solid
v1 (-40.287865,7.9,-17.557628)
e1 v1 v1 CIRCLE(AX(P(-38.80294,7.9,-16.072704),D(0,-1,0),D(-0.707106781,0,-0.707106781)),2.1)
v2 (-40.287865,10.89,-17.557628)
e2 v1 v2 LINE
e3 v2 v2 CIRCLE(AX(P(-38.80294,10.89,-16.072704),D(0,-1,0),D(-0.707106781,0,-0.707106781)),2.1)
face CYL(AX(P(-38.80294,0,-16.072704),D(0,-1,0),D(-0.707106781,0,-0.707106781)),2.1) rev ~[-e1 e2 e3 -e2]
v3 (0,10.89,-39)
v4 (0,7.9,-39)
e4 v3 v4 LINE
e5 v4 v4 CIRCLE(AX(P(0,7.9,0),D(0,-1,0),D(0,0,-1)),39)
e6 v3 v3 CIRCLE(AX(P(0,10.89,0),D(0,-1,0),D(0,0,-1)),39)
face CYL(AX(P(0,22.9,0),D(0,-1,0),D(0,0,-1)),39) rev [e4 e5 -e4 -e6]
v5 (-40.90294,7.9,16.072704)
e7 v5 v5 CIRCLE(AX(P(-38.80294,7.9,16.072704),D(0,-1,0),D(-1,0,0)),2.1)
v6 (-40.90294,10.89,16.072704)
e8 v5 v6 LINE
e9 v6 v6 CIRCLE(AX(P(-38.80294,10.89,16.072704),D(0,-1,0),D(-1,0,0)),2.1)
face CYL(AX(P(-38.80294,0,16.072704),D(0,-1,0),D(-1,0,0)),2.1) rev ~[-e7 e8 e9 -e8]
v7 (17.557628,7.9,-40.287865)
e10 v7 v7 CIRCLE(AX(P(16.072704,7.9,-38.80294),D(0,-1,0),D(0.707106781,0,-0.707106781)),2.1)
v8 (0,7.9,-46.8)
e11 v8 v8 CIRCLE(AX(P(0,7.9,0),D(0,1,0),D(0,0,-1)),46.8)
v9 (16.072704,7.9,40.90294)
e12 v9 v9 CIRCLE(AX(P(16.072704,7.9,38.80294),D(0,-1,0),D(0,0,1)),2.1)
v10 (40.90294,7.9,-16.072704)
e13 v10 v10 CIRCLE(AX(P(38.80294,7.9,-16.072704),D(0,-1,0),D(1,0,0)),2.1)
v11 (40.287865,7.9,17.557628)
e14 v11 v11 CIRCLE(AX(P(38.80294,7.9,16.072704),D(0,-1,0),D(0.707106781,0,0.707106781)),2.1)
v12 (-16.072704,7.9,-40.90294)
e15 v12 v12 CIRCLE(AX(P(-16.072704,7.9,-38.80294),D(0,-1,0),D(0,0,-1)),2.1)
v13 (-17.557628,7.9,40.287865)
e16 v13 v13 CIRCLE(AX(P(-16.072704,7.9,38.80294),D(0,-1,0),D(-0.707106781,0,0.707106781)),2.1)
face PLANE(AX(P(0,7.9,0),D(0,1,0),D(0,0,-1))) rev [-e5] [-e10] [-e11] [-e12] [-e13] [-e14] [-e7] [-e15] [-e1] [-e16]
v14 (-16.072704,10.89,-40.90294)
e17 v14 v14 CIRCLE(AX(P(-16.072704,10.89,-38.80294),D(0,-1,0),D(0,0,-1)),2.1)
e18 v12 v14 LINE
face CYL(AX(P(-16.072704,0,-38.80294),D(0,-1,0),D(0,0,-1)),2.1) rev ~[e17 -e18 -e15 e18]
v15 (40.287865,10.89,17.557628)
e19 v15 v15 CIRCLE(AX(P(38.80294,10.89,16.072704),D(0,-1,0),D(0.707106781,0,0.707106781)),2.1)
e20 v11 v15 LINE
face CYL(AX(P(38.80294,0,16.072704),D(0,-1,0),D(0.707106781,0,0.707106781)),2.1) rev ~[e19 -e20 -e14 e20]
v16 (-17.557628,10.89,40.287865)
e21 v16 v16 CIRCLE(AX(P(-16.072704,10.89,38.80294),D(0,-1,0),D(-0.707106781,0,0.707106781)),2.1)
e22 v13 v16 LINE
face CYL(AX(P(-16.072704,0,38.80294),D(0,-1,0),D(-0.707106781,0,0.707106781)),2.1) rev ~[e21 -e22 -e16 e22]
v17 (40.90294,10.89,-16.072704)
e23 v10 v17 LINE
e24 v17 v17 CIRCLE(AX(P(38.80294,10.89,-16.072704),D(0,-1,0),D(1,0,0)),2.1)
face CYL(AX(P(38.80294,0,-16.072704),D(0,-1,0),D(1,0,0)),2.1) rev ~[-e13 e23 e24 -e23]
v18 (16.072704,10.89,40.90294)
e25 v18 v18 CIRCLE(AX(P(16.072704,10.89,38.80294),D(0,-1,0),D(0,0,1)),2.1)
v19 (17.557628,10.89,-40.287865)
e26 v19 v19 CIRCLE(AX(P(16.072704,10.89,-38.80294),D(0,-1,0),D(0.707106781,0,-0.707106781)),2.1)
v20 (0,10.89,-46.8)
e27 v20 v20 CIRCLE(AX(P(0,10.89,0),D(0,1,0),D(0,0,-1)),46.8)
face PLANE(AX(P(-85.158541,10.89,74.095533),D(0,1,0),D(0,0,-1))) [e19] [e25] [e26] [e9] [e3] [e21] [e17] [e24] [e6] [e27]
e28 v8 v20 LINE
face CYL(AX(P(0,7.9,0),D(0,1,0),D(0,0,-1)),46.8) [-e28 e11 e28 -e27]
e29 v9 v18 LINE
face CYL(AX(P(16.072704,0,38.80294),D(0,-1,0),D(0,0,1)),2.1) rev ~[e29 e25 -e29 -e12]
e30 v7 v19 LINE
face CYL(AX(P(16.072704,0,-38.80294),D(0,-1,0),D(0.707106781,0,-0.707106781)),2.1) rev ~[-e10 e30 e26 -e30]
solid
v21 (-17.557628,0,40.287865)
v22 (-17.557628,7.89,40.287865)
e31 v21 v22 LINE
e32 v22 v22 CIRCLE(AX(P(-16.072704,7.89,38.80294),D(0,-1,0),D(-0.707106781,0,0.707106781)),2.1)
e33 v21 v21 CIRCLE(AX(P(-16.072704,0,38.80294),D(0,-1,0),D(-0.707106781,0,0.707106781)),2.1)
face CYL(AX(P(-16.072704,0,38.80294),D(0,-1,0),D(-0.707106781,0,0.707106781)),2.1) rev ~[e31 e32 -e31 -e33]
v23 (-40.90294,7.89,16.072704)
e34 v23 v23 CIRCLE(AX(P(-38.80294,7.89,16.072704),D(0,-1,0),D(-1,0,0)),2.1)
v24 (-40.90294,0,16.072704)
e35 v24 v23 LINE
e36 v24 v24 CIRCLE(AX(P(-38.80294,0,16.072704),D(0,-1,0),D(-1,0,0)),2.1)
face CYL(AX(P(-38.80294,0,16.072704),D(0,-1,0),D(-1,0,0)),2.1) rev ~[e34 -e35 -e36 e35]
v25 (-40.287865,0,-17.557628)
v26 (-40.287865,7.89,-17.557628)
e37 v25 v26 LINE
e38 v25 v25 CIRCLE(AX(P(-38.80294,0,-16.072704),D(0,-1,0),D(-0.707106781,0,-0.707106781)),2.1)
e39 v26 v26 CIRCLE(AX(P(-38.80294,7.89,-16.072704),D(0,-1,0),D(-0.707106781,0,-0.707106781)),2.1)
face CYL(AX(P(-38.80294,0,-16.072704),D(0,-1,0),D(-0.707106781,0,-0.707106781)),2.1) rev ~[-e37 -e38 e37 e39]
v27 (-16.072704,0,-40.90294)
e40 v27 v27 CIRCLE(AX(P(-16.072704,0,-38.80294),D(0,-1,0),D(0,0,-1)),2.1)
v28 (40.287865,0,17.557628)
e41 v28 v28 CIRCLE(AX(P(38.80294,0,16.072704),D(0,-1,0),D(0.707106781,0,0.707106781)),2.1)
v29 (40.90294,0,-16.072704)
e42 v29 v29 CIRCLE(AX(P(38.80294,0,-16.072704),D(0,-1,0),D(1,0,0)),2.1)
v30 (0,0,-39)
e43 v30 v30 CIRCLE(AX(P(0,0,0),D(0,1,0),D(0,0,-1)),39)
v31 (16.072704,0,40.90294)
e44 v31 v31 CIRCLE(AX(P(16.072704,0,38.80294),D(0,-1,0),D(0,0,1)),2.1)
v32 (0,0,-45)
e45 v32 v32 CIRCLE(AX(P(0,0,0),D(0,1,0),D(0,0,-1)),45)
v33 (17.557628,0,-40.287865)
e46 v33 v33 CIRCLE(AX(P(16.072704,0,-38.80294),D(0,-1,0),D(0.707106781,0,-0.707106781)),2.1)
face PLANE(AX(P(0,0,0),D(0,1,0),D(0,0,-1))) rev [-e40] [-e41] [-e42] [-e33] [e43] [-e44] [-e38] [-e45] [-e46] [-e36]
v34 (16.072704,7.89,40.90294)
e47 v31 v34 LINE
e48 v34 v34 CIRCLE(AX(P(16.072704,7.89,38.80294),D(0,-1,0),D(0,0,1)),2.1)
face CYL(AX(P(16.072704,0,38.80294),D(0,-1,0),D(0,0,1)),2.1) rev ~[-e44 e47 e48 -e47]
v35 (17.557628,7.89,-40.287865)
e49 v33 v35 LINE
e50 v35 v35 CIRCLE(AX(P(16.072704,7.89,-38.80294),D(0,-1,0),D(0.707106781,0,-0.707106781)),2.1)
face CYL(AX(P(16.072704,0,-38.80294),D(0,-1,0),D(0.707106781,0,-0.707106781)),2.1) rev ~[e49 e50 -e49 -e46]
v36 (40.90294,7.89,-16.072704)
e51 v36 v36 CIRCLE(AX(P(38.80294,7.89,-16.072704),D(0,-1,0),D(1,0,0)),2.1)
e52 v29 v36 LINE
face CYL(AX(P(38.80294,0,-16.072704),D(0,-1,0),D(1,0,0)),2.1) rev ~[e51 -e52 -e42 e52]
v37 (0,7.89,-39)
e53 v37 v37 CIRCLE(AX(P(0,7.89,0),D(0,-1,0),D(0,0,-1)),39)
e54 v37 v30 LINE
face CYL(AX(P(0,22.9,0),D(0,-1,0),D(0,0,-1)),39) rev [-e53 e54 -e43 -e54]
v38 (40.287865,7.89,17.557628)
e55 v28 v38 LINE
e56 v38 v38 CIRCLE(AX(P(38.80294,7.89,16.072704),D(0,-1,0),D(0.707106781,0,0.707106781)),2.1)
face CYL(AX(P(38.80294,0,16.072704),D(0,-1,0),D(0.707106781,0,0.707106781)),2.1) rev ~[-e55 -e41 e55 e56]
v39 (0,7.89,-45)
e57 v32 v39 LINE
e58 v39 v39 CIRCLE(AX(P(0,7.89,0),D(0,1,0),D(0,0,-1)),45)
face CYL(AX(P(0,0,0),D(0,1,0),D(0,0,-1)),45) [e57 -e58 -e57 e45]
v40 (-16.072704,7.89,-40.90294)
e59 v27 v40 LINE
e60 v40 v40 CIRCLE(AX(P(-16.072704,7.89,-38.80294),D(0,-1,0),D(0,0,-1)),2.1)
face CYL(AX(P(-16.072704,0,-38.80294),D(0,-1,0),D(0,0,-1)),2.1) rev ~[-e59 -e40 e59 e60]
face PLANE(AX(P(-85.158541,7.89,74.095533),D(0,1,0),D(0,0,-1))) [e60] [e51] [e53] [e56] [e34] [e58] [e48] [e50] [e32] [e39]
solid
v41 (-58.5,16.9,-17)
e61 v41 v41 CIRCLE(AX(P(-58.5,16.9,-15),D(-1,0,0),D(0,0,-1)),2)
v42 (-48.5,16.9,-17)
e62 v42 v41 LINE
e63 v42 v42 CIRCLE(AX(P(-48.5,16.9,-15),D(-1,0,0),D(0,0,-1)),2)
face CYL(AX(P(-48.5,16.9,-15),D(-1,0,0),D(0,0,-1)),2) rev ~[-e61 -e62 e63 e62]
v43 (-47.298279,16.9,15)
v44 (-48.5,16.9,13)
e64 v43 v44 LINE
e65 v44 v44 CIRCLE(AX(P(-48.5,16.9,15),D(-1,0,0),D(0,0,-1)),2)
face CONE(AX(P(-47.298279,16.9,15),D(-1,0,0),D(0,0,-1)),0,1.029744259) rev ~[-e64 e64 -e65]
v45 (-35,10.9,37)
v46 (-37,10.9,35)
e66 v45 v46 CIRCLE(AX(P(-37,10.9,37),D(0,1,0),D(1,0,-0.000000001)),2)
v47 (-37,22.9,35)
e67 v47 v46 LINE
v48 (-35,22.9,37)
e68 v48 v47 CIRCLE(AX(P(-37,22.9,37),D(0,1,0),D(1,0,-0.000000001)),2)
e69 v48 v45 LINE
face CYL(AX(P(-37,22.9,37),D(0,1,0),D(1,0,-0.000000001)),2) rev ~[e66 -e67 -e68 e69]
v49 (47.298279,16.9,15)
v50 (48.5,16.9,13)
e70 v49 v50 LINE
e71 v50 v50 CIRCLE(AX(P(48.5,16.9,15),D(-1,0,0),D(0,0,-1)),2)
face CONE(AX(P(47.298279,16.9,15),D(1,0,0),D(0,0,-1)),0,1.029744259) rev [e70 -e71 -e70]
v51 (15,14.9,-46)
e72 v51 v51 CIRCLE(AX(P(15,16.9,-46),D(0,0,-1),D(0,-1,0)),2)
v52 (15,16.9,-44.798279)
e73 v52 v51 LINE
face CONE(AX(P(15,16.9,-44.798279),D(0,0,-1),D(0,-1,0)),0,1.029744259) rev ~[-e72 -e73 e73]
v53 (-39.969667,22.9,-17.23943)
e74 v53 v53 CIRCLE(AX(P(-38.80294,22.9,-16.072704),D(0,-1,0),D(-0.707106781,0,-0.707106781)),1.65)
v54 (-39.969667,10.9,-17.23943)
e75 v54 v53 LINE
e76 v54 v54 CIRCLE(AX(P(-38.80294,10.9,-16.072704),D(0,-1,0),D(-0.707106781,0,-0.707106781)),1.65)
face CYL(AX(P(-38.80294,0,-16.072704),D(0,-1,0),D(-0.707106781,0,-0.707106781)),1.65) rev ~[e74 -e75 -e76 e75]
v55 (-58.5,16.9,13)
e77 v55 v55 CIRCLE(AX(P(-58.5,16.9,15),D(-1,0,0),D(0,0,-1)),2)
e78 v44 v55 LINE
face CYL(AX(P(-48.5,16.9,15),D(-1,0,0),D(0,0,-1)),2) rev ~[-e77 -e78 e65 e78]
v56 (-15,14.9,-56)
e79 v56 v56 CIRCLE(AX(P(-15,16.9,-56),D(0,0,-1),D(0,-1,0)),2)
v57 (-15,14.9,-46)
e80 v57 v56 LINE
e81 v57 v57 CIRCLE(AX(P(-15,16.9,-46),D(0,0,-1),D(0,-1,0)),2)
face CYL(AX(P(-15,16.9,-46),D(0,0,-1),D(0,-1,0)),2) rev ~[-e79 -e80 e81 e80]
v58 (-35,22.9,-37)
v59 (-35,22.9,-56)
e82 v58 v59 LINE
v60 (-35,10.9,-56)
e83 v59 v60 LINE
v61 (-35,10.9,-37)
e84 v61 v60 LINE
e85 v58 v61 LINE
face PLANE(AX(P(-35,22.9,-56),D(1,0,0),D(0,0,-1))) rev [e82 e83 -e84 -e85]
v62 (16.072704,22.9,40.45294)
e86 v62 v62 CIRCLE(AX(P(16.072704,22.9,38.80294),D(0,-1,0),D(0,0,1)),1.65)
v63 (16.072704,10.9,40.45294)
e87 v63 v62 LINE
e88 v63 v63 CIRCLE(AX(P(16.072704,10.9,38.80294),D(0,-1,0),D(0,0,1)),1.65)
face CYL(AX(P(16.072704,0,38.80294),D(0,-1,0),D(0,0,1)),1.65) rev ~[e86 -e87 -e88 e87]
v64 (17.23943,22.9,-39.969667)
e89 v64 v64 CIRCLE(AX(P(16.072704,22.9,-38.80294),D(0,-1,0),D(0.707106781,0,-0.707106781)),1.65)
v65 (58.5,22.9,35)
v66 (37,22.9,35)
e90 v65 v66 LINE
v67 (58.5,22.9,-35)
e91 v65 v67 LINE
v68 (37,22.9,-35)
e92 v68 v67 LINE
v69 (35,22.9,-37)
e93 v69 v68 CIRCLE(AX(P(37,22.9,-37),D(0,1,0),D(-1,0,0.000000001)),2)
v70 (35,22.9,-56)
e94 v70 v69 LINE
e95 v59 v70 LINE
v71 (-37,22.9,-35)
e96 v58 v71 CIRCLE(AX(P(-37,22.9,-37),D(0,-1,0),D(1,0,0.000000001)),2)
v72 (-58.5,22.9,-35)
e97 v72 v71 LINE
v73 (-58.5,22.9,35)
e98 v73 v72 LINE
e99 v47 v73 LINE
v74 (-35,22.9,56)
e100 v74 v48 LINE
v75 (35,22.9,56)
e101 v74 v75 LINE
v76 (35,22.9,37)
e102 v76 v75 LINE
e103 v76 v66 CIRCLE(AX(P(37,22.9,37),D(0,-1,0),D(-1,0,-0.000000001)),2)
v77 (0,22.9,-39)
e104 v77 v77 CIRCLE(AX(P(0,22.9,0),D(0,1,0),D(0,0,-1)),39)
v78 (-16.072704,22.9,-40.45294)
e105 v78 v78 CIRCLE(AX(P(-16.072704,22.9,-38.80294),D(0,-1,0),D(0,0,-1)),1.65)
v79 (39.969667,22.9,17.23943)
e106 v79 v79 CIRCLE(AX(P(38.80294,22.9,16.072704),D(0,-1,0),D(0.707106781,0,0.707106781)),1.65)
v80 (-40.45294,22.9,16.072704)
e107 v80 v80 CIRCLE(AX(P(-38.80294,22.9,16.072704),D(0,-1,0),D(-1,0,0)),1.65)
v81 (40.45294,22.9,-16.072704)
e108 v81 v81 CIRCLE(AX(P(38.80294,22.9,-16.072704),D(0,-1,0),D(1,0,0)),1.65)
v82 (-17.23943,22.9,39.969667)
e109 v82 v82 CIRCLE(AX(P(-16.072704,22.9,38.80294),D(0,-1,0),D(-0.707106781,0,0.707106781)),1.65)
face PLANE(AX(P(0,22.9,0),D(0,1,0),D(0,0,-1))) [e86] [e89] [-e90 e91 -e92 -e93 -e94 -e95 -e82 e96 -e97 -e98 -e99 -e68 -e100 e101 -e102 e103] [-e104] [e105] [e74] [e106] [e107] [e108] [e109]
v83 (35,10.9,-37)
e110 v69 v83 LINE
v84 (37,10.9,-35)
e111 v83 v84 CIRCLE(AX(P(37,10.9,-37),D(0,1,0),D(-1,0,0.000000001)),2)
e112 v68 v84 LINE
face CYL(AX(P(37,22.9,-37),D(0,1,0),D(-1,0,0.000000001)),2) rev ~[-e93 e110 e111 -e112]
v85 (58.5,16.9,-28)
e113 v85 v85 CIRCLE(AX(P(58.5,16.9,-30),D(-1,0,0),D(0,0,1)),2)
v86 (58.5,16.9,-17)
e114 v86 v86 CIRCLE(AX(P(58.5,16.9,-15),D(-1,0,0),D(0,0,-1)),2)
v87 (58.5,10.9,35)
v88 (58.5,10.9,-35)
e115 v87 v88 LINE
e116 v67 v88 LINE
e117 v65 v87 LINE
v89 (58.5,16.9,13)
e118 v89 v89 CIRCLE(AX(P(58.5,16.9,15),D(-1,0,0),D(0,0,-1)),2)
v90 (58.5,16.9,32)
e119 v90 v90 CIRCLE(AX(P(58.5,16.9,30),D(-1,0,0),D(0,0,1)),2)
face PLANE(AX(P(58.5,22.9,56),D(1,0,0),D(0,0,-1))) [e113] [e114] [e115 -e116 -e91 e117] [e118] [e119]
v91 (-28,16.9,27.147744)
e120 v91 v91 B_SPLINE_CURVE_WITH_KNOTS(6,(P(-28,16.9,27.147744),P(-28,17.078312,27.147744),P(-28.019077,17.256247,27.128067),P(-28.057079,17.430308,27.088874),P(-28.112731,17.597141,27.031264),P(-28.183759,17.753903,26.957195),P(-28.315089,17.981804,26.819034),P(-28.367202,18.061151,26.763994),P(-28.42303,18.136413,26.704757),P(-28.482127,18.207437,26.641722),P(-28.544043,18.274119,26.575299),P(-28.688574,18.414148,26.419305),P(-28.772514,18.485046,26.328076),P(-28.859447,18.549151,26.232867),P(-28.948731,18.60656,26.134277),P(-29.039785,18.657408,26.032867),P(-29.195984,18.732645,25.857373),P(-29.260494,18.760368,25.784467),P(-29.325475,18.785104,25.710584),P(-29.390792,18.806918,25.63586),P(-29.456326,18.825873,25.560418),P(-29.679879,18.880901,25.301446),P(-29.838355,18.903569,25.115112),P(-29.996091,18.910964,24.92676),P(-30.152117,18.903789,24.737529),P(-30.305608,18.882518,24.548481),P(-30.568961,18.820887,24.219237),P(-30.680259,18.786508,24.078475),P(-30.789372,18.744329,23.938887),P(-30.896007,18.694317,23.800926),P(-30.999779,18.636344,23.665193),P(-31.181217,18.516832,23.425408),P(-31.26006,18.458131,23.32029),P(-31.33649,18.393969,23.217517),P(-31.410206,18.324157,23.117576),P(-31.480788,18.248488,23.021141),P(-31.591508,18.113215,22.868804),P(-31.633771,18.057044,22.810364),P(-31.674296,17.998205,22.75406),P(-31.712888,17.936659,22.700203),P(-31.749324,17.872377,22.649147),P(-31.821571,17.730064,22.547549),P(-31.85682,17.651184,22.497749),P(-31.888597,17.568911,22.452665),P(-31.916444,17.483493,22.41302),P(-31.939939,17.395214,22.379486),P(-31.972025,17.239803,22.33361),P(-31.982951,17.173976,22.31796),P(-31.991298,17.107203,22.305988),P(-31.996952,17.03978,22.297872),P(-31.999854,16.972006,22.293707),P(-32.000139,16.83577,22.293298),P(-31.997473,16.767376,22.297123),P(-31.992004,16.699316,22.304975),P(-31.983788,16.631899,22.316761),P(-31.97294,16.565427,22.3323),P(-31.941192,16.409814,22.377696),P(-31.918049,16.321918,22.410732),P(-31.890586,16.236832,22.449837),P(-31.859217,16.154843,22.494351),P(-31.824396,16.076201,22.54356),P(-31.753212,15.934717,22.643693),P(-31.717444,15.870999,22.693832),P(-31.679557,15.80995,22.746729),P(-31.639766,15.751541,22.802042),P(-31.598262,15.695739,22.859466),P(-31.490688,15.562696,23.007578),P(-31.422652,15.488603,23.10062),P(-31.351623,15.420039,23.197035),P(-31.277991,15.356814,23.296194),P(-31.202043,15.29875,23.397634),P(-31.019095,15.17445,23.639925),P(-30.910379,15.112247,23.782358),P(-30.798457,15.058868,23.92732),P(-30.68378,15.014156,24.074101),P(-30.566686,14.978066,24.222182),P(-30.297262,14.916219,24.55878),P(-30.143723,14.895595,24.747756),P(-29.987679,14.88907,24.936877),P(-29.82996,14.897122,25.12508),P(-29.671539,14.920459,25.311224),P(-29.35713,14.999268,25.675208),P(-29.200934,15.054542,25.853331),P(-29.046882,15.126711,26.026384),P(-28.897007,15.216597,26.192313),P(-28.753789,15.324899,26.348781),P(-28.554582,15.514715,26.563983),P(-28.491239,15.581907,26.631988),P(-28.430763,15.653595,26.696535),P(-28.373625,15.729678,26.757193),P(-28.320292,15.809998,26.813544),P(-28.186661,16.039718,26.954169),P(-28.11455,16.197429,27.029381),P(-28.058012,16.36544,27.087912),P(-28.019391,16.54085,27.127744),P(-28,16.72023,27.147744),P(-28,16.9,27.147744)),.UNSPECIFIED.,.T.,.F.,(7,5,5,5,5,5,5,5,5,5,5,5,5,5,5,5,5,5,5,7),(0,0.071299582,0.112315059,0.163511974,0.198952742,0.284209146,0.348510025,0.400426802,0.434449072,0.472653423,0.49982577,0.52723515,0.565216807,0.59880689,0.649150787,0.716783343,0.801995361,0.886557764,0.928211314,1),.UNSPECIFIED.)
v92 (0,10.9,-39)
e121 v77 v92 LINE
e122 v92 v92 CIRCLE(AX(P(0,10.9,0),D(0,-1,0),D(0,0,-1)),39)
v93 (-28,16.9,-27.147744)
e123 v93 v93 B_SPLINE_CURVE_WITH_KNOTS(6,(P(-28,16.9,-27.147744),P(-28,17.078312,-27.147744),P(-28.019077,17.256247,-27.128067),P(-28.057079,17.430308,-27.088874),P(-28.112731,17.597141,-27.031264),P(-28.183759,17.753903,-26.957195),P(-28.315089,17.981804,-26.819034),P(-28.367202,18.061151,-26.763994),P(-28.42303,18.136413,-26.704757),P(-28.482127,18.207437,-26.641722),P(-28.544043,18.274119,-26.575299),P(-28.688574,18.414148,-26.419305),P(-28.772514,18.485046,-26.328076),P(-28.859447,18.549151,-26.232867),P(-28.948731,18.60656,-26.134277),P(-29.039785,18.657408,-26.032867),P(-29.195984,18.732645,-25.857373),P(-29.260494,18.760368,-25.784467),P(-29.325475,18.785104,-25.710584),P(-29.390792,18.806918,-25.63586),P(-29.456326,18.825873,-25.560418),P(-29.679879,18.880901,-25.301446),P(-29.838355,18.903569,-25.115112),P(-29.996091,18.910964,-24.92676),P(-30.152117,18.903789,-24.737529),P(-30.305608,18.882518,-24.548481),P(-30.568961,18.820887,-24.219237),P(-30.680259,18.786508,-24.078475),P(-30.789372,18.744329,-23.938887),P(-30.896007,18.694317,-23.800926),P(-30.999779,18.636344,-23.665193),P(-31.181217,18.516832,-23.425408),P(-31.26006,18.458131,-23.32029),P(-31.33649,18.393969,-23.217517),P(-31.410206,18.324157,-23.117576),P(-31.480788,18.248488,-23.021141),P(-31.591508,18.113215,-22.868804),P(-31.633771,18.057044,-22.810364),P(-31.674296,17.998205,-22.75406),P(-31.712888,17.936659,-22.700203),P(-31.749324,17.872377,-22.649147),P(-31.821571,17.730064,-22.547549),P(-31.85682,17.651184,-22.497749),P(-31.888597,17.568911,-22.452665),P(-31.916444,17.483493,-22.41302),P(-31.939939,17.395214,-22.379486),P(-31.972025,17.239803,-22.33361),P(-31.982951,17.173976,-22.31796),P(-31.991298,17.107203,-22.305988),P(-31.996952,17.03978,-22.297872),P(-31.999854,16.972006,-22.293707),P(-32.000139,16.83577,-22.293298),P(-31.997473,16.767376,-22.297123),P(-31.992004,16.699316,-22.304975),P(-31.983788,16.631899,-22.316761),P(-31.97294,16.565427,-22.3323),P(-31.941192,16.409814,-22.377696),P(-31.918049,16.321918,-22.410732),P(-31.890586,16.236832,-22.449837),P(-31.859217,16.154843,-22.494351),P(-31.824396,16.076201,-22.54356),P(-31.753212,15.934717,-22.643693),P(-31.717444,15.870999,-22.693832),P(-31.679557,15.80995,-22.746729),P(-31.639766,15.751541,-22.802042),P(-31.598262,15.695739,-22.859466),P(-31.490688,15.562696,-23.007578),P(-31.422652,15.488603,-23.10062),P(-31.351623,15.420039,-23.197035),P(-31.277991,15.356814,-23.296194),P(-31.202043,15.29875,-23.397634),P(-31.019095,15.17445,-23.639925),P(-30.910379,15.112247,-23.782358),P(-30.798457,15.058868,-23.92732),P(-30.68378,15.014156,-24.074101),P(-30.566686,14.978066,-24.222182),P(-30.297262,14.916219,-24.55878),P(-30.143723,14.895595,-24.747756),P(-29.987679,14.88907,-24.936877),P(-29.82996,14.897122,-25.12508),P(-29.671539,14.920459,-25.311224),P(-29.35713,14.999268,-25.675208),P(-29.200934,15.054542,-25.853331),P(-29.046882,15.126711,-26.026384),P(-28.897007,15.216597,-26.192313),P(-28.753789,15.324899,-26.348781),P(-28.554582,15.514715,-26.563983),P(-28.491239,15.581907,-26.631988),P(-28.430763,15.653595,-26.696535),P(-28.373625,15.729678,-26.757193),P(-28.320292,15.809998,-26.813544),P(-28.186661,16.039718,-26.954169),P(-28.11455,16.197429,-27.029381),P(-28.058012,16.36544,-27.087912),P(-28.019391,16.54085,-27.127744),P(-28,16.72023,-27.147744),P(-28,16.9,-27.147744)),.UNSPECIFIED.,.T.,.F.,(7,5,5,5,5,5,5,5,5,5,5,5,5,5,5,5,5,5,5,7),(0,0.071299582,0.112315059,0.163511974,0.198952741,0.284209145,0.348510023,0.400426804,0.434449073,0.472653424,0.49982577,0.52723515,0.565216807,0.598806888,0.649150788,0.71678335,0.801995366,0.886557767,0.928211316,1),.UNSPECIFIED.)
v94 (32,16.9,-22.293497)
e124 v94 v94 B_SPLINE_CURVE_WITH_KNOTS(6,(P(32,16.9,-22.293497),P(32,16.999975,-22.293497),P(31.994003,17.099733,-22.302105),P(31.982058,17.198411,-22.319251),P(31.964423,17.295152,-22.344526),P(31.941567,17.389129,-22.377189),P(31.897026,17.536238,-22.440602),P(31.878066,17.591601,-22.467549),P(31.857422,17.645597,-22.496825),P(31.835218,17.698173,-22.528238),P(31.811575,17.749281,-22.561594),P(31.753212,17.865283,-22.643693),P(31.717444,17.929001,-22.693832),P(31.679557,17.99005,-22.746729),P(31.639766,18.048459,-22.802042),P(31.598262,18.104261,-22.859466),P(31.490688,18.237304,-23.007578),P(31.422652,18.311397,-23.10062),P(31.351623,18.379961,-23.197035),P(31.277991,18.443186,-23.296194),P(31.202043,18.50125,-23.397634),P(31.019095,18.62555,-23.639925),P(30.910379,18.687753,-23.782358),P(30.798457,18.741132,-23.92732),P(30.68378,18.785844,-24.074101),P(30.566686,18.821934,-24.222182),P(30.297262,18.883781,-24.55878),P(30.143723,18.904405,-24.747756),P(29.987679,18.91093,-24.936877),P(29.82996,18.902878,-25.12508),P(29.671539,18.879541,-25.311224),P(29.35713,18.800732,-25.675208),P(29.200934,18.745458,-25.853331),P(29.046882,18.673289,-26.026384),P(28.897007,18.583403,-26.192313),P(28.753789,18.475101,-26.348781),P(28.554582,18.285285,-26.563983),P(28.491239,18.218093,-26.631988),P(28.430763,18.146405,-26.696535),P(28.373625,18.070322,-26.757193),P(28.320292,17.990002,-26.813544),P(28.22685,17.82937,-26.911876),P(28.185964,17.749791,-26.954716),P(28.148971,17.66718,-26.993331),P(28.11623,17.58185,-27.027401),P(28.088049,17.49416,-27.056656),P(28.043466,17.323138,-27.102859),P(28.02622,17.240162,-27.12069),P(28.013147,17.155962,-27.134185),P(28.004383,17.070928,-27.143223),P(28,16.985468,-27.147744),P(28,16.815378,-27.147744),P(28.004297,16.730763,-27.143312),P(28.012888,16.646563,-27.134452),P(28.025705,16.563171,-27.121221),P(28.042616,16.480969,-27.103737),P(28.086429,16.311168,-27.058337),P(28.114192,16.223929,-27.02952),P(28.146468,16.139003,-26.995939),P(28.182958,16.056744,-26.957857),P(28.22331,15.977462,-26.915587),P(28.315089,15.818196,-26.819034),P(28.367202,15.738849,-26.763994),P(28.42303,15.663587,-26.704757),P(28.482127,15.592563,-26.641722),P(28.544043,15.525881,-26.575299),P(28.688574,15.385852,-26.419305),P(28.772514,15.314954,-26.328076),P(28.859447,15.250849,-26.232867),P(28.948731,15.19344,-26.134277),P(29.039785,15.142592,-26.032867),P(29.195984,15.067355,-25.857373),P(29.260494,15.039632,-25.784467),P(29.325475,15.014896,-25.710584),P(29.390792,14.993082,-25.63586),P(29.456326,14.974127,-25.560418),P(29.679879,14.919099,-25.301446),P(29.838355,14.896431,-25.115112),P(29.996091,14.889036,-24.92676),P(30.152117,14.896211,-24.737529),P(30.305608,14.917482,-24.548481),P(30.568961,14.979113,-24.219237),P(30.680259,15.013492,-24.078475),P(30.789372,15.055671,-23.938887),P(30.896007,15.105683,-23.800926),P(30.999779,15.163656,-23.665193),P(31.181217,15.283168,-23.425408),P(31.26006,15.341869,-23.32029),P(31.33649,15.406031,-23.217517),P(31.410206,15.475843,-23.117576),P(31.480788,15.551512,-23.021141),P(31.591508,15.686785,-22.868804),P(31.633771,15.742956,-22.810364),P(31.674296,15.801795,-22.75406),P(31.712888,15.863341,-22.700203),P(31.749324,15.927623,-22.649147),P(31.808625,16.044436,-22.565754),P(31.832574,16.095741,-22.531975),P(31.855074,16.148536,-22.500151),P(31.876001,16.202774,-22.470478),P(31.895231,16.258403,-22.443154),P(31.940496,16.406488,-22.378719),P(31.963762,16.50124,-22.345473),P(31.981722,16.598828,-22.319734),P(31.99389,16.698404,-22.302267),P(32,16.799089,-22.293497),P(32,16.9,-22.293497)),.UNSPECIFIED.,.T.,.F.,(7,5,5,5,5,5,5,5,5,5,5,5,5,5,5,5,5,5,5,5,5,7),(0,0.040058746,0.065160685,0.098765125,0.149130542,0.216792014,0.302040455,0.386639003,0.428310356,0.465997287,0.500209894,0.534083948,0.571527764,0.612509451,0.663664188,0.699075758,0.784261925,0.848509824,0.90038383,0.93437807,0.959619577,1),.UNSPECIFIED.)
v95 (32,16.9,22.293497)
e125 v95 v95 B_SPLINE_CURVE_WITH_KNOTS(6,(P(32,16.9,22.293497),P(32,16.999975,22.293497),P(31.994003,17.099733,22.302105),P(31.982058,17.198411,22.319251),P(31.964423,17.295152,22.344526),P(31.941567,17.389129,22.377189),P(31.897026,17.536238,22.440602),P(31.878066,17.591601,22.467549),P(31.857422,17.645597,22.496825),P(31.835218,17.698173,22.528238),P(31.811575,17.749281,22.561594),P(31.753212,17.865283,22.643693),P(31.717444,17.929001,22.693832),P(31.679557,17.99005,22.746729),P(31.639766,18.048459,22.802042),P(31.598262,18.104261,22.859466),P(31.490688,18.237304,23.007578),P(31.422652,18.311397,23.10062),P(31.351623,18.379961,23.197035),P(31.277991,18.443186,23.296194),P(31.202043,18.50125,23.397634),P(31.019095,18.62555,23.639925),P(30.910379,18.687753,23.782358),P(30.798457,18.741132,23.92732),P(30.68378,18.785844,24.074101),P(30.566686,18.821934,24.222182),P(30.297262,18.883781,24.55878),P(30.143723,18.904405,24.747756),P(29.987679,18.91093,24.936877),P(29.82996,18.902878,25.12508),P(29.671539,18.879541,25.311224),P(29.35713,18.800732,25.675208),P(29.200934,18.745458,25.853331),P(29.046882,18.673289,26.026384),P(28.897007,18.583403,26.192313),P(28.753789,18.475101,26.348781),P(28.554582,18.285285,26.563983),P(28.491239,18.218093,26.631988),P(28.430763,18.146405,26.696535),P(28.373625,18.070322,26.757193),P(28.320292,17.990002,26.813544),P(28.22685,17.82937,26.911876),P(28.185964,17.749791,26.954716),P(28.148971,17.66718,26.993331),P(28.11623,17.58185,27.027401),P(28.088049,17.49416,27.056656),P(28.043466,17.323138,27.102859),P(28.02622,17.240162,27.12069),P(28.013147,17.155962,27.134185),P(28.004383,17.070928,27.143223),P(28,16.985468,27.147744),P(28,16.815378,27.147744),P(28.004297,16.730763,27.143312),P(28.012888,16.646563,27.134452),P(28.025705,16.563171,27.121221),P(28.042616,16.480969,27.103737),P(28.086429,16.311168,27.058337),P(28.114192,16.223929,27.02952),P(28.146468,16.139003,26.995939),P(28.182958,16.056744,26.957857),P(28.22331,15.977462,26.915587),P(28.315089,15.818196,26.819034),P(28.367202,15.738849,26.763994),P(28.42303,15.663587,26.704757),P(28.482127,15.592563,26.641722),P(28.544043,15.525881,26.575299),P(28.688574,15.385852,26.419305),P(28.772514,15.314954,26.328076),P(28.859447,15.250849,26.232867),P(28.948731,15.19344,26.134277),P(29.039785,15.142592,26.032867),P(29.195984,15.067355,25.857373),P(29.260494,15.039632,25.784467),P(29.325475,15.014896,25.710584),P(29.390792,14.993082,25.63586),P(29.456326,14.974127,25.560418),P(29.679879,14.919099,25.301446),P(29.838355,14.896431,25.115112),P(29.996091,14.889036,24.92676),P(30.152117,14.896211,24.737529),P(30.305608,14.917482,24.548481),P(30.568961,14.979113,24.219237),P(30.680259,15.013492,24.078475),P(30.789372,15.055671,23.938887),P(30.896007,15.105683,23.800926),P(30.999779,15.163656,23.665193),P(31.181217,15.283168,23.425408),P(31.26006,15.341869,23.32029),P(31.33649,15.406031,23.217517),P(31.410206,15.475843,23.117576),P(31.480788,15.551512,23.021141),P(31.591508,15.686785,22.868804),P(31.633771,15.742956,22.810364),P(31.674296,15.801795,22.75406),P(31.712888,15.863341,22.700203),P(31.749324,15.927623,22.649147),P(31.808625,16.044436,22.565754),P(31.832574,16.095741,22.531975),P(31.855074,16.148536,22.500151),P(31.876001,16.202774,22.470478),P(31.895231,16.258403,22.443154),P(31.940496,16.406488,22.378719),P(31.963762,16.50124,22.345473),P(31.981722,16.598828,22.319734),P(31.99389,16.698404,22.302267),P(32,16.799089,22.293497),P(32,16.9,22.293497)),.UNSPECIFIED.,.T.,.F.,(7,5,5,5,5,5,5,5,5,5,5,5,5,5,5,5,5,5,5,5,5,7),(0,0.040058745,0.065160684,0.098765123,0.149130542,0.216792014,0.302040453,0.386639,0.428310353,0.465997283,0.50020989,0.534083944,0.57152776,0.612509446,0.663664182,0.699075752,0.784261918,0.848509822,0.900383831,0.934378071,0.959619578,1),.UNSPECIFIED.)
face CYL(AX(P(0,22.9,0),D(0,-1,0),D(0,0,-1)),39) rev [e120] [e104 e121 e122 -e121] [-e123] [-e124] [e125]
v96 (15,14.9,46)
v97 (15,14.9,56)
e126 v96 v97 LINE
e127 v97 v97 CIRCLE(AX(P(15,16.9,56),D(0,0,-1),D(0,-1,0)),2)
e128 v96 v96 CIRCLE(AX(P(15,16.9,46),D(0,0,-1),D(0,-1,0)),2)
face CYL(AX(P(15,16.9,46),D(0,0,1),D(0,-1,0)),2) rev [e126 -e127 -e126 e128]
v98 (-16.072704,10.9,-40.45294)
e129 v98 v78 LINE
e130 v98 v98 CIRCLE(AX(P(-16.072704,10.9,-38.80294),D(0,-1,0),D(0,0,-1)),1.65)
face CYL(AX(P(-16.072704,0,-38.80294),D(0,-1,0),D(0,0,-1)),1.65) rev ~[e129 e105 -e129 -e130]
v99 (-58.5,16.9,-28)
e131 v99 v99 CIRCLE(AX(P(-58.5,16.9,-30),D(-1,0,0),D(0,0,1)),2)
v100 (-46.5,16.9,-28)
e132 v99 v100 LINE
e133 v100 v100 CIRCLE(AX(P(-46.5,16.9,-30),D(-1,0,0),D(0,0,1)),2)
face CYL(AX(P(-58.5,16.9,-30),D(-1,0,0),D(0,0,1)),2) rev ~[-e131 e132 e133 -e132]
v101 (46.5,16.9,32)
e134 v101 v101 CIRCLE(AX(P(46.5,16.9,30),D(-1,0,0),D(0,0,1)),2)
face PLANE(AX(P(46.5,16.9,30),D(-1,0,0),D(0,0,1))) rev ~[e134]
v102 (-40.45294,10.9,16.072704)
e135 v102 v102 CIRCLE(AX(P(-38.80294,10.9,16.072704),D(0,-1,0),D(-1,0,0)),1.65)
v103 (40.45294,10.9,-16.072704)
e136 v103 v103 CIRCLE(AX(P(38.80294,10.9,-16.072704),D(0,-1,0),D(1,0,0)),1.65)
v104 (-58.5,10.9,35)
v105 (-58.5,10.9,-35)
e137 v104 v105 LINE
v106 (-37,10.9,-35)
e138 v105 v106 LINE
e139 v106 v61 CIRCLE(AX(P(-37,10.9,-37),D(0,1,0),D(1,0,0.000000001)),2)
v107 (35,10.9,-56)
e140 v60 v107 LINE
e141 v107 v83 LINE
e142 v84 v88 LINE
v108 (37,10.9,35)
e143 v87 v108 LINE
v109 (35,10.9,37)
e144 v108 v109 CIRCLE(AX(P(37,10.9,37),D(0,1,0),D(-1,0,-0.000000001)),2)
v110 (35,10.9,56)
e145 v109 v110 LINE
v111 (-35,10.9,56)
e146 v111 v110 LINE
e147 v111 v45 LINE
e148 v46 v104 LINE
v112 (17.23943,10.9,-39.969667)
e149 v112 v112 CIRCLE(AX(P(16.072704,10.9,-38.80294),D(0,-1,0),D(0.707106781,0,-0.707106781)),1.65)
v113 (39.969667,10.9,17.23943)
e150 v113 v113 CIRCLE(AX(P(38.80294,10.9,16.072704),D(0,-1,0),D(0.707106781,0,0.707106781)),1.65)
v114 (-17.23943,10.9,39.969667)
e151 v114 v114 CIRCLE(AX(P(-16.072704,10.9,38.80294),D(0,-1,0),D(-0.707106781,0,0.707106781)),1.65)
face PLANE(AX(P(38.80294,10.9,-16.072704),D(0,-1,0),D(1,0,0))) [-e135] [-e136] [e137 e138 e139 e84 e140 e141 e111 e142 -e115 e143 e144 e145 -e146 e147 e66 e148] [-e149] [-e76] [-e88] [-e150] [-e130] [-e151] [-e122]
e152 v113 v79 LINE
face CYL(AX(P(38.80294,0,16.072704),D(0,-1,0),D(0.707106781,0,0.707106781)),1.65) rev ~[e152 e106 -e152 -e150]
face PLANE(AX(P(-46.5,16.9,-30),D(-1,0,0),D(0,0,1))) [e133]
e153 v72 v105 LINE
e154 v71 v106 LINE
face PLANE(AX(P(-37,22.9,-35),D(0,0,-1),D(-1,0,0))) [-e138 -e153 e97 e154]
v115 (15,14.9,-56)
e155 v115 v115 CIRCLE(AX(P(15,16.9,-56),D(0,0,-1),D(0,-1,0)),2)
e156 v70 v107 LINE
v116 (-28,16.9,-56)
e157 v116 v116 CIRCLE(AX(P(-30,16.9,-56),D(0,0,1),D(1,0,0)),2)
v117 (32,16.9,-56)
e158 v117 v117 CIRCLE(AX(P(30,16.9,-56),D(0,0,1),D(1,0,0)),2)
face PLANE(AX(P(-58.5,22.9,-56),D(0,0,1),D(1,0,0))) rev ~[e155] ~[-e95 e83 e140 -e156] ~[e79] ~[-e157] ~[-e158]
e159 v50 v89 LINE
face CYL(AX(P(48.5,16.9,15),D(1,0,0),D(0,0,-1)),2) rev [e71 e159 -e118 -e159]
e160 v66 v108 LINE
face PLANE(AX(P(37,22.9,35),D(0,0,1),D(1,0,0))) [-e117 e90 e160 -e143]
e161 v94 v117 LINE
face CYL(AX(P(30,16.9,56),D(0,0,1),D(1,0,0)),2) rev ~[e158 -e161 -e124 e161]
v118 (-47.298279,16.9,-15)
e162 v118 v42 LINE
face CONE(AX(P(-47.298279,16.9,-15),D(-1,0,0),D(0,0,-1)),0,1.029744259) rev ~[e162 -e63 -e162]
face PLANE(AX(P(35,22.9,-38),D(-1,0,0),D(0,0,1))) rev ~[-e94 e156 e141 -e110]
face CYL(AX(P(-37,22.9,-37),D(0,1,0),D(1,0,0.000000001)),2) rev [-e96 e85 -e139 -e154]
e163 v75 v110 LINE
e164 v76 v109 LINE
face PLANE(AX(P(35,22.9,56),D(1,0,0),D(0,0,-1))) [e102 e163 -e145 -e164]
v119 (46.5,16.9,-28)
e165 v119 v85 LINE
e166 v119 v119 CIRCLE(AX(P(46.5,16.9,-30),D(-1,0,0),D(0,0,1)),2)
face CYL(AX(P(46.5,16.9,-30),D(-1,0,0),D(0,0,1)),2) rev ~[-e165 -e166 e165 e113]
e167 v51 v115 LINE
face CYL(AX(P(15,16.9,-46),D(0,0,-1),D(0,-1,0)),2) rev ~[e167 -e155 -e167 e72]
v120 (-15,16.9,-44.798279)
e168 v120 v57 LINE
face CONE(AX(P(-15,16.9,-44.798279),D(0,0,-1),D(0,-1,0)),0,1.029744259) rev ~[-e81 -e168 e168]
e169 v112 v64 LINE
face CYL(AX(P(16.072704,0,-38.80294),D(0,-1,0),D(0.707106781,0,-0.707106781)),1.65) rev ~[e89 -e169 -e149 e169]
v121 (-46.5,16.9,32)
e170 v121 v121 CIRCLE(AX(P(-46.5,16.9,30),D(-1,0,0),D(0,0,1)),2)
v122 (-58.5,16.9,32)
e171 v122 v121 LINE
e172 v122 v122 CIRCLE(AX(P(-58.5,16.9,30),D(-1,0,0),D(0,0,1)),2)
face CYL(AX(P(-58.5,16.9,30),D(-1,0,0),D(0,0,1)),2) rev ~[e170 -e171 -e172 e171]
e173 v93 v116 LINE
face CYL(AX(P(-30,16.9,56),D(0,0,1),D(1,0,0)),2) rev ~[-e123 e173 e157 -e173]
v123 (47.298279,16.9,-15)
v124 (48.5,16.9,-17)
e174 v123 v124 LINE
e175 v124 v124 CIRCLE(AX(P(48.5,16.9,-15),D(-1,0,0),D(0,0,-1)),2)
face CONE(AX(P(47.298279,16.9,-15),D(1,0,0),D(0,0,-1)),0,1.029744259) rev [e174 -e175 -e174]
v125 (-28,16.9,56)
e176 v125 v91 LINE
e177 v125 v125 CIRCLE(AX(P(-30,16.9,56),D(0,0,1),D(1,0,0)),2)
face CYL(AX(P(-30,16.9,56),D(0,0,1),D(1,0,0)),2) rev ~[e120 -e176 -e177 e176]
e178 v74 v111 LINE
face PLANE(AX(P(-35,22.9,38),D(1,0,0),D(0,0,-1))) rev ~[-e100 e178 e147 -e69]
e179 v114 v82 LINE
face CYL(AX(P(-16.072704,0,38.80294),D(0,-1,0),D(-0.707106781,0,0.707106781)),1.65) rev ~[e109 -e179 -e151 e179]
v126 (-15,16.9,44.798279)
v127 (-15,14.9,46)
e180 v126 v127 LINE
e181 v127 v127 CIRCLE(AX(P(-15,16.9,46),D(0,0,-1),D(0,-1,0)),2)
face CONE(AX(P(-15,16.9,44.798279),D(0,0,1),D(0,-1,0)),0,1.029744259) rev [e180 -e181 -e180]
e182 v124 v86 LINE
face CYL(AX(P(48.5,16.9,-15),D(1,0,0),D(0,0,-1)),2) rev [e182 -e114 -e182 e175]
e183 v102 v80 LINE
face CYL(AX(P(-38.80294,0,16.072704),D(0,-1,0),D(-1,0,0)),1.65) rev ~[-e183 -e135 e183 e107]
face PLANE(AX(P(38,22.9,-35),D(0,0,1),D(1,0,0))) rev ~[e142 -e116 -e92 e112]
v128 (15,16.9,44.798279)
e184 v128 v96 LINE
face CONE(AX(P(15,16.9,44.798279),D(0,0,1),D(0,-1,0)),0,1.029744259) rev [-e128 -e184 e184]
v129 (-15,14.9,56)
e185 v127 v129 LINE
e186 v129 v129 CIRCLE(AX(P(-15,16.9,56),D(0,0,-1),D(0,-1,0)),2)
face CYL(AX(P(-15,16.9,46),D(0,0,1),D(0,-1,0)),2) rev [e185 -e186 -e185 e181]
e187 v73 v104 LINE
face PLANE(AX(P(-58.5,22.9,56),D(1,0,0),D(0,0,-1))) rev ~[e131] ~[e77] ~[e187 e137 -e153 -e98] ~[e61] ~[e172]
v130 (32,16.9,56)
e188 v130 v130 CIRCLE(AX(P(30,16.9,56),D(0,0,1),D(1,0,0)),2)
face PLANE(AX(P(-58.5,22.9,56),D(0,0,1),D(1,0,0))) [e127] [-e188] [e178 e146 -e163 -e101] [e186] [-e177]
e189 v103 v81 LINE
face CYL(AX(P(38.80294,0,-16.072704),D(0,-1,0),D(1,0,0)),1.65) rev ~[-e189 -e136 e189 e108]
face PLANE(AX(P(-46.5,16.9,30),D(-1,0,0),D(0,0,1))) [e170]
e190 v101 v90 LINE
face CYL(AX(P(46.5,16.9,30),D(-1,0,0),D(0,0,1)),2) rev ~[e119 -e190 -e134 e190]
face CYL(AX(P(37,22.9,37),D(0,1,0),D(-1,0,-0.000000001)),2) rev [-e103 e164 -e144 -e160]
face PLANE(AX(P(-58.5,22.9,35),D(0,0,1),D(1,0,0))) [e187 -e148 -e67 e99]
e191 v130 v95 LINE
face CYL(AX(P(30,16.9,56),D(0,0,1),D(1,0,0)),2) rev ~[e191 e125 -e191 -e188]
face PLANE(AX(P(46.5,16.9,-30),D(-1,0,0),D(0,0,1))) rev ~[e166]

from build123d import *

# Parameters (mm, degrees)
SKETCH_2_OUTSIDE_W          = 233.118
SKETCH_2_OUTSIDE_H          = 233.118
SKETCH_2_OUTSIDE_W_2        = 117
SKETCH_2_OUTSIDE_H_2        = 112
CUT_EXTRUDE_1_DEPTH         = 12
SKETCH_4_R                  = 2
CUT_EXTRUDE_3_DEPTH         = 129.41596474
SKETCH_5_R                  = 2
CUT_EXTRUDE_4_DEPTH         = 12
CUT_EXTRUDE_START           = -105
SKETCH_5_2_R                = 2
CUT_EXTRUDE_5_DEPTH         = 12
SKETCH_6_R                  = 1.65
CUT_EXTRUDE_6_DEPTH         = 100
SKETCH_10_R                 = 2.1
CUT_EXTRUDE_8_DEPTH         = 10.9
PATTERN_CIRCULAR_1_COUNT    = 8
CUT_EXTRUDE_7_DEPTH         = 20
CUT_EXTRUDE_3395_DEPTH      = 85.158540956
CUT_EXTRUDE_3395_DEPTH_BACK = 85.158540956
SKETCH_11_W                 = 136.197392648
SKETCH_11_H                 = 0.01
SKETCH_12_W                 = 23.5
SKETCH_12_H                 = 18
CUT_EXTRUDE_9_DEPTH         = 50
SKETCH_13_W                 = 20.5
SKETCH_13_H                 = 3
CUT_EXTRUDE_10_DEPTH        = 40
F_4_0MM_1_AT_2_COUNT        = 2
F_4_0MM_1_AT_2_PITCH        = 30
F_4_0MM_2_AT_2_COUNT        = 2
F_4_0MM_2_AT_2_PITCH        = 30


with BuildPart() as part:
    # 草图1 → 旋转1 (revolve)
    with BuildSketch(Plane.XY, mode=Mode.PRIVATE) as revolve_1_sk:
        Polygon((-39, 0), (-45, 0), (-45, 7.9), (-46.8, 7.9), (-46.8, 10.9), (-90, 10.9), (-90, 22.9), (-39, 22.9), align=None)
    revolve(revolve_1_sk.sketch.rotate(Axis((0, 0, 0), (0, 1, 0)), 270), axis=Axis((0, 0, 0), (0, 1, 0)))

    # 草图2 outside → 切除-拉伸1 (cut)
    with BuildSketch(Plane(origin=(0, 22.9, 0), x_dir=(1, 0, 0), z_dir=(0, 1, 0))):
        Rectangle(SKETCH_2_OUTSIDE_W, SKETCH_2_OUTSIDE_H)
        Rectangle(SKETCH_2_OUTSIDE_W_2, SKETCH_2_OUTSIDE_H_2, mode=Mode.SUBTRACT)
    extrude(amount=-CUT_EXTRUDE_1_DEPTH, mode=Mode.SUBTRACT)

    # 草图4 → 切除-拉伸3 (cut, through all)
    with BuildSketch(Plane.XY.offset(56)):
        with Locations((-30, 16.9)):
            Circle(SKETCH_4_R)
        with Locations((30, 16.9)):
            Circle(SKETCH_4_R)
    extrude(amount=-CUT_EXTRUDE_3_DEPTH, mode=Mode.SUBTRACT)

    # 草图5 → 切除-拉伸4 (cut)
    with BuildSketch(Plane.ZY.offset(58.5)):
        with Locations((-30, 16.9)):
            Circle(SKETCH_5_R)
        with Locations((30, 16.9)):
            Circle(SKETCH_5_R)
    extrude(amount=-CUT_EXTRUDE_4_DEPTH, mode=Mode.SUBTRACT)

    # 草图5<2> → 切除-拉伸5 (cut)
    with BuildSketch(Plane.ZY.offset(58.5).offset(CUT_EXTRUDE_START)):
        with Locations((-30, 16.9)):
            Circle(SKETCH_5_2_R)
        with Locations((30, 16.9)):
            Circle(SKETCH_5_2_R)
    extrude(amount=-CUT_EXTRUDE_5_DEPTH, mode=Mode.SUBTRACT)

    # 草图6 → 切除-拉伸6 (cut)
    with BuildSketch(Plane.XZ):
        with Locations(Location((-16.072704159, -38.802940365, 0), (0, 0, 270))):
            Circle(SKETCH_6_R)
    cut_extrude_6 = extrude(amount=-CUT_EXTRUDE_6_DEPTH, mode=Mode.SUBTRACT)

    # 草图10 → 切除-拉伸8 (cut)
    with BuildSketch(Plane.XZ):
        with Locations(Location((-16.072704159, -38.802940365, 0), (0, 0, 270))):
            Circle(SKETCH_10_R)
    cut_extrude_8 = extrude(amount=-CUT_EXTRUDE_8_DEPTH, mode=Mode.SUBTRACT)

    # 阵列(圆周)1: 切除-拉伸6, 切除-拉伸8 ×8 about axis
    pattern_circular_1_axis = Axis((0, 0, 0), (0, 1, 0))
    add([cut_extrude_6.rotate(pattern_circular_1_axis, i * 360 / PATTERN_CIRCULAR_1_COUNT) for i in range(1, PATTERN_CIRCULAR_1_COUNT)], mode=Mode.SUBTRACT)
    add([cut_extrude_8.rotate(pattern_circular_1_axis, i * 360 / PATTERN_CIRCULAR_1_COUNT) for i in range(1, PATTERN_CIRCULAR_1_COUNT)], mode=Mode.SUBTRACT)

    # 草图7 → 切除-拉伸7 (cut)
    with BuildSketch(Plane(origin=(0, 22.9, 0), x_dir=(1, 0, 0), z_dir=(0, 1, 0))):
        with BuildLine():
            Line((-37, 35), (-38, 35))
            ThreePointArc((-38, 35), (-39.414213562, 35.585786438), (-40, 37))
            Line((-40, 37), (-40, 38))
            ThreePointArc((-40, 38), (-39.414213562, 39.414213562), (-38, 40))
            Line((-38, 40), (-37, 40))
            ThreePointArc((-37, 40), (-35.585786438, 39.414213562), (-35, 38))
            Line((-35, 38), (-35, 37))
            ThreePointArc((-35, 37), (-35.585786438, 35.585786438), (-37, 35))
        make_face()
        with BuildLine():
            Line((37, 35), (38, 35))
            ThreePointArc((38, 35), (39.414213562, 35.585786438), (40, 37))
            Line((40, 37), (40, 38))
            ThreePointArc((40, 38), (39.414213562, 39.414213562), (38, 40))
            Line((38, 40), (37, 40))
            ThreePointArc((37, 40), (35.585786438, 39.414213562), (35, 38))
            Line((35, 38), (35, 37))
            ThreePointArc((35, 37), (35.585786438, 35.585786438), (37, 35))
        make_face()
        with BuildLine():
            Line((37, -35), (38, -35))
            ThreePointArc((38, -35), (39.414213562, -35.585786438), (40, -37))
            Line((40, -37), (40, -38))
            ThreePointArc((40, -38), (39.414213562, -39.414213562), (38, -40))
            Line((38, -40), (37, -40))
            ThreePointArc((37, -40), (35.585786438, -39.414213562), (35, -38))
            Line((35, -38), (35, -37))
            ThreePointArc((35, -37), (35.585786438, -35.585786438), (37, -35))
        make_face()
        with BuildLine():
            Line((-37, -35), (-38, -35))
            ThreePointArc((-38, -35), (-39.414213562, -35.585786438), (-40, -37))
            Line((-40, -37), (-40, -38))
            ThreePointArc((-40, -38), (-39.414213562, -39.414213562), (-38, -40))
            Line((-38, -40), (-37, -40))
            ThreePointArc((-37, -40), (-35.585786438, -39.414213562), (-35, -38))
            Line((-35, -38), (-35, -37))
            ThreePointArc((-35, -37), (-35.585786438, -35.585786438), (-37, -35))
        make_face()
    extrude(amount=-CUT_EXTRUDE_7_DEPTH, mode=Mode.SUBTRACT)

    # 草图11 → Cut-Extrude 3395 (cut, two sides: drawn at the far end of the back side and taken through both)
    with BuildSketch(Plane(origin=(0, 0, 0), x_dir=(0, 0, -1), z_dir=(1, 0, 0)).offset(-CUT_EXTRUDE_3395_DEPTH_BACK)):
        with Locations((-5.996836933, 7.895)):
            Rectangle(SKETCH_11_W, SKETCH_11_H)
        with Locations((-5.996836933, 10.895)):
            Rectangle(SKETCH_11_W, SKETCH_11_H)
    extrude(amount=CUT_EXTRUDE_3395_DEPTH + CUT_EXTRUDE_3395_DEPTH_BACK, mode=Mode.SUBTRACT)


with BuildPart() as cut_extrude_3395_piece_1:
    # of the separate pieces the step leaves, piece 1, a body of its own (cut_extrude_3395_pieces)
    add(part.part.solids().sort_by_distance((40.452940365, 10.9, -16.072704159))[0])

    # 草图12 → 切除-拉伸9 (cut)
    with BuildSketch(Plane(origin=(0, 22.9, 0), x_dir=(1, 0, 0), z_dir=(0, 1, 0))):
        with Locations((46.75, -47)):
            Rectangle(SKETCH_12_W, SKETCH_12_H)
        with Locations((-46.75, -47)):
            Rectangle(SKETCH_12_W, SKETCH_12_H)
    cut_extrude_9 = extrude(amount=-CUT_EXTRUDE_9_DEPTH, mode=Mode.SUBTRACT)

    # 镜向1: 切除-拉伸9 across plane
    add(cut_extrude_9.mirror(Plane.XY), mode=Mode.SUBTRACT)

    # 草图13 → 切除-拉伸10 (cut)
    with BuildSketch(Plane(origin=(0, 22.9, 0), x_dir=(1, 0, 0), z_dir=(0, 1, 0))):
        with Locations((48.25, -36.5)):
            Rectangle(SKETCH_13_W, SKETCH_13_H)
        with Locations((-48.25, -36.5)):
            Rectangle(SKETCH_13_W, SKETCH_13_H)
        with Locations((-48.25, 36.5)):
            Rectangle(SKETCH_13_W, SKETCH_13_H)
        with Locations((48.25, 36.5)):
            Rectangle(SKETCH_13_W, SKETCH_13_H)
    extrude(amount=-CUT_EXTRUDE_10_DEPTH, mode=Mode.SUBTRACT)

    # 草图16 → Ø4.0mm 暗销孔1 (revolve, cut)
    with BuildSketch(Plane(origin=(-15, 16.9, 56), x_dir=(0, -1, 0), z_dir=(1, 0, 0))):
        Polygon((0, 0), (0, 11.201721238), (2, 10), (2, 0), align=None)
    f_4_0mm_1 = revolve(axis=Axis((-15, 16.9, 62.35), (0, 0, -1)), mode=Mode.SUBTRACT)

    # Ø4.0mm 暗销孔1 at 2: Ø4.0mm 暗销孔1 ×2
    with Locations(*[(i * F_4_0MM_1_AT_2_PITCH, 0, 0) for i in range(1, F_4_0MM_1_AT_2_COUNT)]):
        add(f_4_0mm_1, mode=Mode.SUBTRACT)

    # 镜向2: Ø4.0mm 暗销孔1 across plane
    add(f_4_0mm_1.mirror(Plane.XY), mode=Mode.SUBTRACT)

    # 镜向2 copy 1 sketch → 镜向2 copy 1 (revolve, cut)
    with BuildSketch(Plane(origin=(15, 16.9, -56), x_dir=(0, -1, 0), z_dir=(1, 0, 0))):
        Polygon((0, 0), (0, -11.201721238), (2, -10), (2, 0), align=None)
    revolve(axis=Axis((15, 16.9, -62.35), (0, 0, -1)), mode=Mode.SUBTRACT)

    # 草图19 → Ø4.0mm 暗销孔2 (revolve, cut)
    with BuildSketch(Plane(origin=(58.5, 16.9, 15), x_dir=(0, 0, -1), z_dir=(0, 1, 0))):
        Polygon((0, 0), (0, 11.201721238), (2, 10), (2, 0), align=None)
    f_4_0mm_2 = revolve(axis=Axis((64.85, 16.9, 15), (-1, 0, 0)), mode=Mode.SUBTRACT)

    # Ø4.0mm 暗销孔2 at 2: Ø4.0mm 暗销孔2 ×2
    with Locations(*[(0, 0, -i * F_4_0MM_2_AT_2_PITCH) for i in range(1, F_4_0MM_2_AT_2_COUNT)]):
        add(f_4_0mm_2, mode=Mode.SUBTRACT)

    # 镜向3: Ø4.0mm 暗销孔2 across plane
    add(f_4_0mm_2.mirror(Plane(origin=(0, 0, 0), x_dir=(0, 0, 1), z_dir=(1, 0, 0))), mode=Mode.SUBTRACT)

    # 镜向3 copy 1 sketch → 镜向3 copy 1 (revolve, cut)
    with BuildSketch(Plane(origin=(-58.5, 16.9, -15), x_dir=(0, 0, -1), z_dir=(0, 1, 0))):
        Polygon((0, 0), (0, -11.201721238), (2, -10), (2, 0), align=None)
    revolve(axis=Axis((-64.85, 16.9, -15), (-1, 0, 0)), mode=Mode.SUBTRACT)


with BuildPart() as cut_extrude_3395_piece_2:
    # of the separate pieces the step leaves, piece 2, a body of its own (cut_extrude_3395_pieces)
    add(part.part.solids().sort_by_distance((0, 0, -45))[0])


with BuildPart() as cut_extrude_3395_piece_3:
    # of the separate pieces the step leaves, piece 3, a body of its own (cut_extrude_3395_pieces)
    add(part.part.solids().sort_by_distance((0, 7.9, -46.8))[0])


solid = Compound([cut_extrude_3395_piece_1.part, cut_extrude_3395_piece_2.part, cut_extrude_3395_piece_3.part])
